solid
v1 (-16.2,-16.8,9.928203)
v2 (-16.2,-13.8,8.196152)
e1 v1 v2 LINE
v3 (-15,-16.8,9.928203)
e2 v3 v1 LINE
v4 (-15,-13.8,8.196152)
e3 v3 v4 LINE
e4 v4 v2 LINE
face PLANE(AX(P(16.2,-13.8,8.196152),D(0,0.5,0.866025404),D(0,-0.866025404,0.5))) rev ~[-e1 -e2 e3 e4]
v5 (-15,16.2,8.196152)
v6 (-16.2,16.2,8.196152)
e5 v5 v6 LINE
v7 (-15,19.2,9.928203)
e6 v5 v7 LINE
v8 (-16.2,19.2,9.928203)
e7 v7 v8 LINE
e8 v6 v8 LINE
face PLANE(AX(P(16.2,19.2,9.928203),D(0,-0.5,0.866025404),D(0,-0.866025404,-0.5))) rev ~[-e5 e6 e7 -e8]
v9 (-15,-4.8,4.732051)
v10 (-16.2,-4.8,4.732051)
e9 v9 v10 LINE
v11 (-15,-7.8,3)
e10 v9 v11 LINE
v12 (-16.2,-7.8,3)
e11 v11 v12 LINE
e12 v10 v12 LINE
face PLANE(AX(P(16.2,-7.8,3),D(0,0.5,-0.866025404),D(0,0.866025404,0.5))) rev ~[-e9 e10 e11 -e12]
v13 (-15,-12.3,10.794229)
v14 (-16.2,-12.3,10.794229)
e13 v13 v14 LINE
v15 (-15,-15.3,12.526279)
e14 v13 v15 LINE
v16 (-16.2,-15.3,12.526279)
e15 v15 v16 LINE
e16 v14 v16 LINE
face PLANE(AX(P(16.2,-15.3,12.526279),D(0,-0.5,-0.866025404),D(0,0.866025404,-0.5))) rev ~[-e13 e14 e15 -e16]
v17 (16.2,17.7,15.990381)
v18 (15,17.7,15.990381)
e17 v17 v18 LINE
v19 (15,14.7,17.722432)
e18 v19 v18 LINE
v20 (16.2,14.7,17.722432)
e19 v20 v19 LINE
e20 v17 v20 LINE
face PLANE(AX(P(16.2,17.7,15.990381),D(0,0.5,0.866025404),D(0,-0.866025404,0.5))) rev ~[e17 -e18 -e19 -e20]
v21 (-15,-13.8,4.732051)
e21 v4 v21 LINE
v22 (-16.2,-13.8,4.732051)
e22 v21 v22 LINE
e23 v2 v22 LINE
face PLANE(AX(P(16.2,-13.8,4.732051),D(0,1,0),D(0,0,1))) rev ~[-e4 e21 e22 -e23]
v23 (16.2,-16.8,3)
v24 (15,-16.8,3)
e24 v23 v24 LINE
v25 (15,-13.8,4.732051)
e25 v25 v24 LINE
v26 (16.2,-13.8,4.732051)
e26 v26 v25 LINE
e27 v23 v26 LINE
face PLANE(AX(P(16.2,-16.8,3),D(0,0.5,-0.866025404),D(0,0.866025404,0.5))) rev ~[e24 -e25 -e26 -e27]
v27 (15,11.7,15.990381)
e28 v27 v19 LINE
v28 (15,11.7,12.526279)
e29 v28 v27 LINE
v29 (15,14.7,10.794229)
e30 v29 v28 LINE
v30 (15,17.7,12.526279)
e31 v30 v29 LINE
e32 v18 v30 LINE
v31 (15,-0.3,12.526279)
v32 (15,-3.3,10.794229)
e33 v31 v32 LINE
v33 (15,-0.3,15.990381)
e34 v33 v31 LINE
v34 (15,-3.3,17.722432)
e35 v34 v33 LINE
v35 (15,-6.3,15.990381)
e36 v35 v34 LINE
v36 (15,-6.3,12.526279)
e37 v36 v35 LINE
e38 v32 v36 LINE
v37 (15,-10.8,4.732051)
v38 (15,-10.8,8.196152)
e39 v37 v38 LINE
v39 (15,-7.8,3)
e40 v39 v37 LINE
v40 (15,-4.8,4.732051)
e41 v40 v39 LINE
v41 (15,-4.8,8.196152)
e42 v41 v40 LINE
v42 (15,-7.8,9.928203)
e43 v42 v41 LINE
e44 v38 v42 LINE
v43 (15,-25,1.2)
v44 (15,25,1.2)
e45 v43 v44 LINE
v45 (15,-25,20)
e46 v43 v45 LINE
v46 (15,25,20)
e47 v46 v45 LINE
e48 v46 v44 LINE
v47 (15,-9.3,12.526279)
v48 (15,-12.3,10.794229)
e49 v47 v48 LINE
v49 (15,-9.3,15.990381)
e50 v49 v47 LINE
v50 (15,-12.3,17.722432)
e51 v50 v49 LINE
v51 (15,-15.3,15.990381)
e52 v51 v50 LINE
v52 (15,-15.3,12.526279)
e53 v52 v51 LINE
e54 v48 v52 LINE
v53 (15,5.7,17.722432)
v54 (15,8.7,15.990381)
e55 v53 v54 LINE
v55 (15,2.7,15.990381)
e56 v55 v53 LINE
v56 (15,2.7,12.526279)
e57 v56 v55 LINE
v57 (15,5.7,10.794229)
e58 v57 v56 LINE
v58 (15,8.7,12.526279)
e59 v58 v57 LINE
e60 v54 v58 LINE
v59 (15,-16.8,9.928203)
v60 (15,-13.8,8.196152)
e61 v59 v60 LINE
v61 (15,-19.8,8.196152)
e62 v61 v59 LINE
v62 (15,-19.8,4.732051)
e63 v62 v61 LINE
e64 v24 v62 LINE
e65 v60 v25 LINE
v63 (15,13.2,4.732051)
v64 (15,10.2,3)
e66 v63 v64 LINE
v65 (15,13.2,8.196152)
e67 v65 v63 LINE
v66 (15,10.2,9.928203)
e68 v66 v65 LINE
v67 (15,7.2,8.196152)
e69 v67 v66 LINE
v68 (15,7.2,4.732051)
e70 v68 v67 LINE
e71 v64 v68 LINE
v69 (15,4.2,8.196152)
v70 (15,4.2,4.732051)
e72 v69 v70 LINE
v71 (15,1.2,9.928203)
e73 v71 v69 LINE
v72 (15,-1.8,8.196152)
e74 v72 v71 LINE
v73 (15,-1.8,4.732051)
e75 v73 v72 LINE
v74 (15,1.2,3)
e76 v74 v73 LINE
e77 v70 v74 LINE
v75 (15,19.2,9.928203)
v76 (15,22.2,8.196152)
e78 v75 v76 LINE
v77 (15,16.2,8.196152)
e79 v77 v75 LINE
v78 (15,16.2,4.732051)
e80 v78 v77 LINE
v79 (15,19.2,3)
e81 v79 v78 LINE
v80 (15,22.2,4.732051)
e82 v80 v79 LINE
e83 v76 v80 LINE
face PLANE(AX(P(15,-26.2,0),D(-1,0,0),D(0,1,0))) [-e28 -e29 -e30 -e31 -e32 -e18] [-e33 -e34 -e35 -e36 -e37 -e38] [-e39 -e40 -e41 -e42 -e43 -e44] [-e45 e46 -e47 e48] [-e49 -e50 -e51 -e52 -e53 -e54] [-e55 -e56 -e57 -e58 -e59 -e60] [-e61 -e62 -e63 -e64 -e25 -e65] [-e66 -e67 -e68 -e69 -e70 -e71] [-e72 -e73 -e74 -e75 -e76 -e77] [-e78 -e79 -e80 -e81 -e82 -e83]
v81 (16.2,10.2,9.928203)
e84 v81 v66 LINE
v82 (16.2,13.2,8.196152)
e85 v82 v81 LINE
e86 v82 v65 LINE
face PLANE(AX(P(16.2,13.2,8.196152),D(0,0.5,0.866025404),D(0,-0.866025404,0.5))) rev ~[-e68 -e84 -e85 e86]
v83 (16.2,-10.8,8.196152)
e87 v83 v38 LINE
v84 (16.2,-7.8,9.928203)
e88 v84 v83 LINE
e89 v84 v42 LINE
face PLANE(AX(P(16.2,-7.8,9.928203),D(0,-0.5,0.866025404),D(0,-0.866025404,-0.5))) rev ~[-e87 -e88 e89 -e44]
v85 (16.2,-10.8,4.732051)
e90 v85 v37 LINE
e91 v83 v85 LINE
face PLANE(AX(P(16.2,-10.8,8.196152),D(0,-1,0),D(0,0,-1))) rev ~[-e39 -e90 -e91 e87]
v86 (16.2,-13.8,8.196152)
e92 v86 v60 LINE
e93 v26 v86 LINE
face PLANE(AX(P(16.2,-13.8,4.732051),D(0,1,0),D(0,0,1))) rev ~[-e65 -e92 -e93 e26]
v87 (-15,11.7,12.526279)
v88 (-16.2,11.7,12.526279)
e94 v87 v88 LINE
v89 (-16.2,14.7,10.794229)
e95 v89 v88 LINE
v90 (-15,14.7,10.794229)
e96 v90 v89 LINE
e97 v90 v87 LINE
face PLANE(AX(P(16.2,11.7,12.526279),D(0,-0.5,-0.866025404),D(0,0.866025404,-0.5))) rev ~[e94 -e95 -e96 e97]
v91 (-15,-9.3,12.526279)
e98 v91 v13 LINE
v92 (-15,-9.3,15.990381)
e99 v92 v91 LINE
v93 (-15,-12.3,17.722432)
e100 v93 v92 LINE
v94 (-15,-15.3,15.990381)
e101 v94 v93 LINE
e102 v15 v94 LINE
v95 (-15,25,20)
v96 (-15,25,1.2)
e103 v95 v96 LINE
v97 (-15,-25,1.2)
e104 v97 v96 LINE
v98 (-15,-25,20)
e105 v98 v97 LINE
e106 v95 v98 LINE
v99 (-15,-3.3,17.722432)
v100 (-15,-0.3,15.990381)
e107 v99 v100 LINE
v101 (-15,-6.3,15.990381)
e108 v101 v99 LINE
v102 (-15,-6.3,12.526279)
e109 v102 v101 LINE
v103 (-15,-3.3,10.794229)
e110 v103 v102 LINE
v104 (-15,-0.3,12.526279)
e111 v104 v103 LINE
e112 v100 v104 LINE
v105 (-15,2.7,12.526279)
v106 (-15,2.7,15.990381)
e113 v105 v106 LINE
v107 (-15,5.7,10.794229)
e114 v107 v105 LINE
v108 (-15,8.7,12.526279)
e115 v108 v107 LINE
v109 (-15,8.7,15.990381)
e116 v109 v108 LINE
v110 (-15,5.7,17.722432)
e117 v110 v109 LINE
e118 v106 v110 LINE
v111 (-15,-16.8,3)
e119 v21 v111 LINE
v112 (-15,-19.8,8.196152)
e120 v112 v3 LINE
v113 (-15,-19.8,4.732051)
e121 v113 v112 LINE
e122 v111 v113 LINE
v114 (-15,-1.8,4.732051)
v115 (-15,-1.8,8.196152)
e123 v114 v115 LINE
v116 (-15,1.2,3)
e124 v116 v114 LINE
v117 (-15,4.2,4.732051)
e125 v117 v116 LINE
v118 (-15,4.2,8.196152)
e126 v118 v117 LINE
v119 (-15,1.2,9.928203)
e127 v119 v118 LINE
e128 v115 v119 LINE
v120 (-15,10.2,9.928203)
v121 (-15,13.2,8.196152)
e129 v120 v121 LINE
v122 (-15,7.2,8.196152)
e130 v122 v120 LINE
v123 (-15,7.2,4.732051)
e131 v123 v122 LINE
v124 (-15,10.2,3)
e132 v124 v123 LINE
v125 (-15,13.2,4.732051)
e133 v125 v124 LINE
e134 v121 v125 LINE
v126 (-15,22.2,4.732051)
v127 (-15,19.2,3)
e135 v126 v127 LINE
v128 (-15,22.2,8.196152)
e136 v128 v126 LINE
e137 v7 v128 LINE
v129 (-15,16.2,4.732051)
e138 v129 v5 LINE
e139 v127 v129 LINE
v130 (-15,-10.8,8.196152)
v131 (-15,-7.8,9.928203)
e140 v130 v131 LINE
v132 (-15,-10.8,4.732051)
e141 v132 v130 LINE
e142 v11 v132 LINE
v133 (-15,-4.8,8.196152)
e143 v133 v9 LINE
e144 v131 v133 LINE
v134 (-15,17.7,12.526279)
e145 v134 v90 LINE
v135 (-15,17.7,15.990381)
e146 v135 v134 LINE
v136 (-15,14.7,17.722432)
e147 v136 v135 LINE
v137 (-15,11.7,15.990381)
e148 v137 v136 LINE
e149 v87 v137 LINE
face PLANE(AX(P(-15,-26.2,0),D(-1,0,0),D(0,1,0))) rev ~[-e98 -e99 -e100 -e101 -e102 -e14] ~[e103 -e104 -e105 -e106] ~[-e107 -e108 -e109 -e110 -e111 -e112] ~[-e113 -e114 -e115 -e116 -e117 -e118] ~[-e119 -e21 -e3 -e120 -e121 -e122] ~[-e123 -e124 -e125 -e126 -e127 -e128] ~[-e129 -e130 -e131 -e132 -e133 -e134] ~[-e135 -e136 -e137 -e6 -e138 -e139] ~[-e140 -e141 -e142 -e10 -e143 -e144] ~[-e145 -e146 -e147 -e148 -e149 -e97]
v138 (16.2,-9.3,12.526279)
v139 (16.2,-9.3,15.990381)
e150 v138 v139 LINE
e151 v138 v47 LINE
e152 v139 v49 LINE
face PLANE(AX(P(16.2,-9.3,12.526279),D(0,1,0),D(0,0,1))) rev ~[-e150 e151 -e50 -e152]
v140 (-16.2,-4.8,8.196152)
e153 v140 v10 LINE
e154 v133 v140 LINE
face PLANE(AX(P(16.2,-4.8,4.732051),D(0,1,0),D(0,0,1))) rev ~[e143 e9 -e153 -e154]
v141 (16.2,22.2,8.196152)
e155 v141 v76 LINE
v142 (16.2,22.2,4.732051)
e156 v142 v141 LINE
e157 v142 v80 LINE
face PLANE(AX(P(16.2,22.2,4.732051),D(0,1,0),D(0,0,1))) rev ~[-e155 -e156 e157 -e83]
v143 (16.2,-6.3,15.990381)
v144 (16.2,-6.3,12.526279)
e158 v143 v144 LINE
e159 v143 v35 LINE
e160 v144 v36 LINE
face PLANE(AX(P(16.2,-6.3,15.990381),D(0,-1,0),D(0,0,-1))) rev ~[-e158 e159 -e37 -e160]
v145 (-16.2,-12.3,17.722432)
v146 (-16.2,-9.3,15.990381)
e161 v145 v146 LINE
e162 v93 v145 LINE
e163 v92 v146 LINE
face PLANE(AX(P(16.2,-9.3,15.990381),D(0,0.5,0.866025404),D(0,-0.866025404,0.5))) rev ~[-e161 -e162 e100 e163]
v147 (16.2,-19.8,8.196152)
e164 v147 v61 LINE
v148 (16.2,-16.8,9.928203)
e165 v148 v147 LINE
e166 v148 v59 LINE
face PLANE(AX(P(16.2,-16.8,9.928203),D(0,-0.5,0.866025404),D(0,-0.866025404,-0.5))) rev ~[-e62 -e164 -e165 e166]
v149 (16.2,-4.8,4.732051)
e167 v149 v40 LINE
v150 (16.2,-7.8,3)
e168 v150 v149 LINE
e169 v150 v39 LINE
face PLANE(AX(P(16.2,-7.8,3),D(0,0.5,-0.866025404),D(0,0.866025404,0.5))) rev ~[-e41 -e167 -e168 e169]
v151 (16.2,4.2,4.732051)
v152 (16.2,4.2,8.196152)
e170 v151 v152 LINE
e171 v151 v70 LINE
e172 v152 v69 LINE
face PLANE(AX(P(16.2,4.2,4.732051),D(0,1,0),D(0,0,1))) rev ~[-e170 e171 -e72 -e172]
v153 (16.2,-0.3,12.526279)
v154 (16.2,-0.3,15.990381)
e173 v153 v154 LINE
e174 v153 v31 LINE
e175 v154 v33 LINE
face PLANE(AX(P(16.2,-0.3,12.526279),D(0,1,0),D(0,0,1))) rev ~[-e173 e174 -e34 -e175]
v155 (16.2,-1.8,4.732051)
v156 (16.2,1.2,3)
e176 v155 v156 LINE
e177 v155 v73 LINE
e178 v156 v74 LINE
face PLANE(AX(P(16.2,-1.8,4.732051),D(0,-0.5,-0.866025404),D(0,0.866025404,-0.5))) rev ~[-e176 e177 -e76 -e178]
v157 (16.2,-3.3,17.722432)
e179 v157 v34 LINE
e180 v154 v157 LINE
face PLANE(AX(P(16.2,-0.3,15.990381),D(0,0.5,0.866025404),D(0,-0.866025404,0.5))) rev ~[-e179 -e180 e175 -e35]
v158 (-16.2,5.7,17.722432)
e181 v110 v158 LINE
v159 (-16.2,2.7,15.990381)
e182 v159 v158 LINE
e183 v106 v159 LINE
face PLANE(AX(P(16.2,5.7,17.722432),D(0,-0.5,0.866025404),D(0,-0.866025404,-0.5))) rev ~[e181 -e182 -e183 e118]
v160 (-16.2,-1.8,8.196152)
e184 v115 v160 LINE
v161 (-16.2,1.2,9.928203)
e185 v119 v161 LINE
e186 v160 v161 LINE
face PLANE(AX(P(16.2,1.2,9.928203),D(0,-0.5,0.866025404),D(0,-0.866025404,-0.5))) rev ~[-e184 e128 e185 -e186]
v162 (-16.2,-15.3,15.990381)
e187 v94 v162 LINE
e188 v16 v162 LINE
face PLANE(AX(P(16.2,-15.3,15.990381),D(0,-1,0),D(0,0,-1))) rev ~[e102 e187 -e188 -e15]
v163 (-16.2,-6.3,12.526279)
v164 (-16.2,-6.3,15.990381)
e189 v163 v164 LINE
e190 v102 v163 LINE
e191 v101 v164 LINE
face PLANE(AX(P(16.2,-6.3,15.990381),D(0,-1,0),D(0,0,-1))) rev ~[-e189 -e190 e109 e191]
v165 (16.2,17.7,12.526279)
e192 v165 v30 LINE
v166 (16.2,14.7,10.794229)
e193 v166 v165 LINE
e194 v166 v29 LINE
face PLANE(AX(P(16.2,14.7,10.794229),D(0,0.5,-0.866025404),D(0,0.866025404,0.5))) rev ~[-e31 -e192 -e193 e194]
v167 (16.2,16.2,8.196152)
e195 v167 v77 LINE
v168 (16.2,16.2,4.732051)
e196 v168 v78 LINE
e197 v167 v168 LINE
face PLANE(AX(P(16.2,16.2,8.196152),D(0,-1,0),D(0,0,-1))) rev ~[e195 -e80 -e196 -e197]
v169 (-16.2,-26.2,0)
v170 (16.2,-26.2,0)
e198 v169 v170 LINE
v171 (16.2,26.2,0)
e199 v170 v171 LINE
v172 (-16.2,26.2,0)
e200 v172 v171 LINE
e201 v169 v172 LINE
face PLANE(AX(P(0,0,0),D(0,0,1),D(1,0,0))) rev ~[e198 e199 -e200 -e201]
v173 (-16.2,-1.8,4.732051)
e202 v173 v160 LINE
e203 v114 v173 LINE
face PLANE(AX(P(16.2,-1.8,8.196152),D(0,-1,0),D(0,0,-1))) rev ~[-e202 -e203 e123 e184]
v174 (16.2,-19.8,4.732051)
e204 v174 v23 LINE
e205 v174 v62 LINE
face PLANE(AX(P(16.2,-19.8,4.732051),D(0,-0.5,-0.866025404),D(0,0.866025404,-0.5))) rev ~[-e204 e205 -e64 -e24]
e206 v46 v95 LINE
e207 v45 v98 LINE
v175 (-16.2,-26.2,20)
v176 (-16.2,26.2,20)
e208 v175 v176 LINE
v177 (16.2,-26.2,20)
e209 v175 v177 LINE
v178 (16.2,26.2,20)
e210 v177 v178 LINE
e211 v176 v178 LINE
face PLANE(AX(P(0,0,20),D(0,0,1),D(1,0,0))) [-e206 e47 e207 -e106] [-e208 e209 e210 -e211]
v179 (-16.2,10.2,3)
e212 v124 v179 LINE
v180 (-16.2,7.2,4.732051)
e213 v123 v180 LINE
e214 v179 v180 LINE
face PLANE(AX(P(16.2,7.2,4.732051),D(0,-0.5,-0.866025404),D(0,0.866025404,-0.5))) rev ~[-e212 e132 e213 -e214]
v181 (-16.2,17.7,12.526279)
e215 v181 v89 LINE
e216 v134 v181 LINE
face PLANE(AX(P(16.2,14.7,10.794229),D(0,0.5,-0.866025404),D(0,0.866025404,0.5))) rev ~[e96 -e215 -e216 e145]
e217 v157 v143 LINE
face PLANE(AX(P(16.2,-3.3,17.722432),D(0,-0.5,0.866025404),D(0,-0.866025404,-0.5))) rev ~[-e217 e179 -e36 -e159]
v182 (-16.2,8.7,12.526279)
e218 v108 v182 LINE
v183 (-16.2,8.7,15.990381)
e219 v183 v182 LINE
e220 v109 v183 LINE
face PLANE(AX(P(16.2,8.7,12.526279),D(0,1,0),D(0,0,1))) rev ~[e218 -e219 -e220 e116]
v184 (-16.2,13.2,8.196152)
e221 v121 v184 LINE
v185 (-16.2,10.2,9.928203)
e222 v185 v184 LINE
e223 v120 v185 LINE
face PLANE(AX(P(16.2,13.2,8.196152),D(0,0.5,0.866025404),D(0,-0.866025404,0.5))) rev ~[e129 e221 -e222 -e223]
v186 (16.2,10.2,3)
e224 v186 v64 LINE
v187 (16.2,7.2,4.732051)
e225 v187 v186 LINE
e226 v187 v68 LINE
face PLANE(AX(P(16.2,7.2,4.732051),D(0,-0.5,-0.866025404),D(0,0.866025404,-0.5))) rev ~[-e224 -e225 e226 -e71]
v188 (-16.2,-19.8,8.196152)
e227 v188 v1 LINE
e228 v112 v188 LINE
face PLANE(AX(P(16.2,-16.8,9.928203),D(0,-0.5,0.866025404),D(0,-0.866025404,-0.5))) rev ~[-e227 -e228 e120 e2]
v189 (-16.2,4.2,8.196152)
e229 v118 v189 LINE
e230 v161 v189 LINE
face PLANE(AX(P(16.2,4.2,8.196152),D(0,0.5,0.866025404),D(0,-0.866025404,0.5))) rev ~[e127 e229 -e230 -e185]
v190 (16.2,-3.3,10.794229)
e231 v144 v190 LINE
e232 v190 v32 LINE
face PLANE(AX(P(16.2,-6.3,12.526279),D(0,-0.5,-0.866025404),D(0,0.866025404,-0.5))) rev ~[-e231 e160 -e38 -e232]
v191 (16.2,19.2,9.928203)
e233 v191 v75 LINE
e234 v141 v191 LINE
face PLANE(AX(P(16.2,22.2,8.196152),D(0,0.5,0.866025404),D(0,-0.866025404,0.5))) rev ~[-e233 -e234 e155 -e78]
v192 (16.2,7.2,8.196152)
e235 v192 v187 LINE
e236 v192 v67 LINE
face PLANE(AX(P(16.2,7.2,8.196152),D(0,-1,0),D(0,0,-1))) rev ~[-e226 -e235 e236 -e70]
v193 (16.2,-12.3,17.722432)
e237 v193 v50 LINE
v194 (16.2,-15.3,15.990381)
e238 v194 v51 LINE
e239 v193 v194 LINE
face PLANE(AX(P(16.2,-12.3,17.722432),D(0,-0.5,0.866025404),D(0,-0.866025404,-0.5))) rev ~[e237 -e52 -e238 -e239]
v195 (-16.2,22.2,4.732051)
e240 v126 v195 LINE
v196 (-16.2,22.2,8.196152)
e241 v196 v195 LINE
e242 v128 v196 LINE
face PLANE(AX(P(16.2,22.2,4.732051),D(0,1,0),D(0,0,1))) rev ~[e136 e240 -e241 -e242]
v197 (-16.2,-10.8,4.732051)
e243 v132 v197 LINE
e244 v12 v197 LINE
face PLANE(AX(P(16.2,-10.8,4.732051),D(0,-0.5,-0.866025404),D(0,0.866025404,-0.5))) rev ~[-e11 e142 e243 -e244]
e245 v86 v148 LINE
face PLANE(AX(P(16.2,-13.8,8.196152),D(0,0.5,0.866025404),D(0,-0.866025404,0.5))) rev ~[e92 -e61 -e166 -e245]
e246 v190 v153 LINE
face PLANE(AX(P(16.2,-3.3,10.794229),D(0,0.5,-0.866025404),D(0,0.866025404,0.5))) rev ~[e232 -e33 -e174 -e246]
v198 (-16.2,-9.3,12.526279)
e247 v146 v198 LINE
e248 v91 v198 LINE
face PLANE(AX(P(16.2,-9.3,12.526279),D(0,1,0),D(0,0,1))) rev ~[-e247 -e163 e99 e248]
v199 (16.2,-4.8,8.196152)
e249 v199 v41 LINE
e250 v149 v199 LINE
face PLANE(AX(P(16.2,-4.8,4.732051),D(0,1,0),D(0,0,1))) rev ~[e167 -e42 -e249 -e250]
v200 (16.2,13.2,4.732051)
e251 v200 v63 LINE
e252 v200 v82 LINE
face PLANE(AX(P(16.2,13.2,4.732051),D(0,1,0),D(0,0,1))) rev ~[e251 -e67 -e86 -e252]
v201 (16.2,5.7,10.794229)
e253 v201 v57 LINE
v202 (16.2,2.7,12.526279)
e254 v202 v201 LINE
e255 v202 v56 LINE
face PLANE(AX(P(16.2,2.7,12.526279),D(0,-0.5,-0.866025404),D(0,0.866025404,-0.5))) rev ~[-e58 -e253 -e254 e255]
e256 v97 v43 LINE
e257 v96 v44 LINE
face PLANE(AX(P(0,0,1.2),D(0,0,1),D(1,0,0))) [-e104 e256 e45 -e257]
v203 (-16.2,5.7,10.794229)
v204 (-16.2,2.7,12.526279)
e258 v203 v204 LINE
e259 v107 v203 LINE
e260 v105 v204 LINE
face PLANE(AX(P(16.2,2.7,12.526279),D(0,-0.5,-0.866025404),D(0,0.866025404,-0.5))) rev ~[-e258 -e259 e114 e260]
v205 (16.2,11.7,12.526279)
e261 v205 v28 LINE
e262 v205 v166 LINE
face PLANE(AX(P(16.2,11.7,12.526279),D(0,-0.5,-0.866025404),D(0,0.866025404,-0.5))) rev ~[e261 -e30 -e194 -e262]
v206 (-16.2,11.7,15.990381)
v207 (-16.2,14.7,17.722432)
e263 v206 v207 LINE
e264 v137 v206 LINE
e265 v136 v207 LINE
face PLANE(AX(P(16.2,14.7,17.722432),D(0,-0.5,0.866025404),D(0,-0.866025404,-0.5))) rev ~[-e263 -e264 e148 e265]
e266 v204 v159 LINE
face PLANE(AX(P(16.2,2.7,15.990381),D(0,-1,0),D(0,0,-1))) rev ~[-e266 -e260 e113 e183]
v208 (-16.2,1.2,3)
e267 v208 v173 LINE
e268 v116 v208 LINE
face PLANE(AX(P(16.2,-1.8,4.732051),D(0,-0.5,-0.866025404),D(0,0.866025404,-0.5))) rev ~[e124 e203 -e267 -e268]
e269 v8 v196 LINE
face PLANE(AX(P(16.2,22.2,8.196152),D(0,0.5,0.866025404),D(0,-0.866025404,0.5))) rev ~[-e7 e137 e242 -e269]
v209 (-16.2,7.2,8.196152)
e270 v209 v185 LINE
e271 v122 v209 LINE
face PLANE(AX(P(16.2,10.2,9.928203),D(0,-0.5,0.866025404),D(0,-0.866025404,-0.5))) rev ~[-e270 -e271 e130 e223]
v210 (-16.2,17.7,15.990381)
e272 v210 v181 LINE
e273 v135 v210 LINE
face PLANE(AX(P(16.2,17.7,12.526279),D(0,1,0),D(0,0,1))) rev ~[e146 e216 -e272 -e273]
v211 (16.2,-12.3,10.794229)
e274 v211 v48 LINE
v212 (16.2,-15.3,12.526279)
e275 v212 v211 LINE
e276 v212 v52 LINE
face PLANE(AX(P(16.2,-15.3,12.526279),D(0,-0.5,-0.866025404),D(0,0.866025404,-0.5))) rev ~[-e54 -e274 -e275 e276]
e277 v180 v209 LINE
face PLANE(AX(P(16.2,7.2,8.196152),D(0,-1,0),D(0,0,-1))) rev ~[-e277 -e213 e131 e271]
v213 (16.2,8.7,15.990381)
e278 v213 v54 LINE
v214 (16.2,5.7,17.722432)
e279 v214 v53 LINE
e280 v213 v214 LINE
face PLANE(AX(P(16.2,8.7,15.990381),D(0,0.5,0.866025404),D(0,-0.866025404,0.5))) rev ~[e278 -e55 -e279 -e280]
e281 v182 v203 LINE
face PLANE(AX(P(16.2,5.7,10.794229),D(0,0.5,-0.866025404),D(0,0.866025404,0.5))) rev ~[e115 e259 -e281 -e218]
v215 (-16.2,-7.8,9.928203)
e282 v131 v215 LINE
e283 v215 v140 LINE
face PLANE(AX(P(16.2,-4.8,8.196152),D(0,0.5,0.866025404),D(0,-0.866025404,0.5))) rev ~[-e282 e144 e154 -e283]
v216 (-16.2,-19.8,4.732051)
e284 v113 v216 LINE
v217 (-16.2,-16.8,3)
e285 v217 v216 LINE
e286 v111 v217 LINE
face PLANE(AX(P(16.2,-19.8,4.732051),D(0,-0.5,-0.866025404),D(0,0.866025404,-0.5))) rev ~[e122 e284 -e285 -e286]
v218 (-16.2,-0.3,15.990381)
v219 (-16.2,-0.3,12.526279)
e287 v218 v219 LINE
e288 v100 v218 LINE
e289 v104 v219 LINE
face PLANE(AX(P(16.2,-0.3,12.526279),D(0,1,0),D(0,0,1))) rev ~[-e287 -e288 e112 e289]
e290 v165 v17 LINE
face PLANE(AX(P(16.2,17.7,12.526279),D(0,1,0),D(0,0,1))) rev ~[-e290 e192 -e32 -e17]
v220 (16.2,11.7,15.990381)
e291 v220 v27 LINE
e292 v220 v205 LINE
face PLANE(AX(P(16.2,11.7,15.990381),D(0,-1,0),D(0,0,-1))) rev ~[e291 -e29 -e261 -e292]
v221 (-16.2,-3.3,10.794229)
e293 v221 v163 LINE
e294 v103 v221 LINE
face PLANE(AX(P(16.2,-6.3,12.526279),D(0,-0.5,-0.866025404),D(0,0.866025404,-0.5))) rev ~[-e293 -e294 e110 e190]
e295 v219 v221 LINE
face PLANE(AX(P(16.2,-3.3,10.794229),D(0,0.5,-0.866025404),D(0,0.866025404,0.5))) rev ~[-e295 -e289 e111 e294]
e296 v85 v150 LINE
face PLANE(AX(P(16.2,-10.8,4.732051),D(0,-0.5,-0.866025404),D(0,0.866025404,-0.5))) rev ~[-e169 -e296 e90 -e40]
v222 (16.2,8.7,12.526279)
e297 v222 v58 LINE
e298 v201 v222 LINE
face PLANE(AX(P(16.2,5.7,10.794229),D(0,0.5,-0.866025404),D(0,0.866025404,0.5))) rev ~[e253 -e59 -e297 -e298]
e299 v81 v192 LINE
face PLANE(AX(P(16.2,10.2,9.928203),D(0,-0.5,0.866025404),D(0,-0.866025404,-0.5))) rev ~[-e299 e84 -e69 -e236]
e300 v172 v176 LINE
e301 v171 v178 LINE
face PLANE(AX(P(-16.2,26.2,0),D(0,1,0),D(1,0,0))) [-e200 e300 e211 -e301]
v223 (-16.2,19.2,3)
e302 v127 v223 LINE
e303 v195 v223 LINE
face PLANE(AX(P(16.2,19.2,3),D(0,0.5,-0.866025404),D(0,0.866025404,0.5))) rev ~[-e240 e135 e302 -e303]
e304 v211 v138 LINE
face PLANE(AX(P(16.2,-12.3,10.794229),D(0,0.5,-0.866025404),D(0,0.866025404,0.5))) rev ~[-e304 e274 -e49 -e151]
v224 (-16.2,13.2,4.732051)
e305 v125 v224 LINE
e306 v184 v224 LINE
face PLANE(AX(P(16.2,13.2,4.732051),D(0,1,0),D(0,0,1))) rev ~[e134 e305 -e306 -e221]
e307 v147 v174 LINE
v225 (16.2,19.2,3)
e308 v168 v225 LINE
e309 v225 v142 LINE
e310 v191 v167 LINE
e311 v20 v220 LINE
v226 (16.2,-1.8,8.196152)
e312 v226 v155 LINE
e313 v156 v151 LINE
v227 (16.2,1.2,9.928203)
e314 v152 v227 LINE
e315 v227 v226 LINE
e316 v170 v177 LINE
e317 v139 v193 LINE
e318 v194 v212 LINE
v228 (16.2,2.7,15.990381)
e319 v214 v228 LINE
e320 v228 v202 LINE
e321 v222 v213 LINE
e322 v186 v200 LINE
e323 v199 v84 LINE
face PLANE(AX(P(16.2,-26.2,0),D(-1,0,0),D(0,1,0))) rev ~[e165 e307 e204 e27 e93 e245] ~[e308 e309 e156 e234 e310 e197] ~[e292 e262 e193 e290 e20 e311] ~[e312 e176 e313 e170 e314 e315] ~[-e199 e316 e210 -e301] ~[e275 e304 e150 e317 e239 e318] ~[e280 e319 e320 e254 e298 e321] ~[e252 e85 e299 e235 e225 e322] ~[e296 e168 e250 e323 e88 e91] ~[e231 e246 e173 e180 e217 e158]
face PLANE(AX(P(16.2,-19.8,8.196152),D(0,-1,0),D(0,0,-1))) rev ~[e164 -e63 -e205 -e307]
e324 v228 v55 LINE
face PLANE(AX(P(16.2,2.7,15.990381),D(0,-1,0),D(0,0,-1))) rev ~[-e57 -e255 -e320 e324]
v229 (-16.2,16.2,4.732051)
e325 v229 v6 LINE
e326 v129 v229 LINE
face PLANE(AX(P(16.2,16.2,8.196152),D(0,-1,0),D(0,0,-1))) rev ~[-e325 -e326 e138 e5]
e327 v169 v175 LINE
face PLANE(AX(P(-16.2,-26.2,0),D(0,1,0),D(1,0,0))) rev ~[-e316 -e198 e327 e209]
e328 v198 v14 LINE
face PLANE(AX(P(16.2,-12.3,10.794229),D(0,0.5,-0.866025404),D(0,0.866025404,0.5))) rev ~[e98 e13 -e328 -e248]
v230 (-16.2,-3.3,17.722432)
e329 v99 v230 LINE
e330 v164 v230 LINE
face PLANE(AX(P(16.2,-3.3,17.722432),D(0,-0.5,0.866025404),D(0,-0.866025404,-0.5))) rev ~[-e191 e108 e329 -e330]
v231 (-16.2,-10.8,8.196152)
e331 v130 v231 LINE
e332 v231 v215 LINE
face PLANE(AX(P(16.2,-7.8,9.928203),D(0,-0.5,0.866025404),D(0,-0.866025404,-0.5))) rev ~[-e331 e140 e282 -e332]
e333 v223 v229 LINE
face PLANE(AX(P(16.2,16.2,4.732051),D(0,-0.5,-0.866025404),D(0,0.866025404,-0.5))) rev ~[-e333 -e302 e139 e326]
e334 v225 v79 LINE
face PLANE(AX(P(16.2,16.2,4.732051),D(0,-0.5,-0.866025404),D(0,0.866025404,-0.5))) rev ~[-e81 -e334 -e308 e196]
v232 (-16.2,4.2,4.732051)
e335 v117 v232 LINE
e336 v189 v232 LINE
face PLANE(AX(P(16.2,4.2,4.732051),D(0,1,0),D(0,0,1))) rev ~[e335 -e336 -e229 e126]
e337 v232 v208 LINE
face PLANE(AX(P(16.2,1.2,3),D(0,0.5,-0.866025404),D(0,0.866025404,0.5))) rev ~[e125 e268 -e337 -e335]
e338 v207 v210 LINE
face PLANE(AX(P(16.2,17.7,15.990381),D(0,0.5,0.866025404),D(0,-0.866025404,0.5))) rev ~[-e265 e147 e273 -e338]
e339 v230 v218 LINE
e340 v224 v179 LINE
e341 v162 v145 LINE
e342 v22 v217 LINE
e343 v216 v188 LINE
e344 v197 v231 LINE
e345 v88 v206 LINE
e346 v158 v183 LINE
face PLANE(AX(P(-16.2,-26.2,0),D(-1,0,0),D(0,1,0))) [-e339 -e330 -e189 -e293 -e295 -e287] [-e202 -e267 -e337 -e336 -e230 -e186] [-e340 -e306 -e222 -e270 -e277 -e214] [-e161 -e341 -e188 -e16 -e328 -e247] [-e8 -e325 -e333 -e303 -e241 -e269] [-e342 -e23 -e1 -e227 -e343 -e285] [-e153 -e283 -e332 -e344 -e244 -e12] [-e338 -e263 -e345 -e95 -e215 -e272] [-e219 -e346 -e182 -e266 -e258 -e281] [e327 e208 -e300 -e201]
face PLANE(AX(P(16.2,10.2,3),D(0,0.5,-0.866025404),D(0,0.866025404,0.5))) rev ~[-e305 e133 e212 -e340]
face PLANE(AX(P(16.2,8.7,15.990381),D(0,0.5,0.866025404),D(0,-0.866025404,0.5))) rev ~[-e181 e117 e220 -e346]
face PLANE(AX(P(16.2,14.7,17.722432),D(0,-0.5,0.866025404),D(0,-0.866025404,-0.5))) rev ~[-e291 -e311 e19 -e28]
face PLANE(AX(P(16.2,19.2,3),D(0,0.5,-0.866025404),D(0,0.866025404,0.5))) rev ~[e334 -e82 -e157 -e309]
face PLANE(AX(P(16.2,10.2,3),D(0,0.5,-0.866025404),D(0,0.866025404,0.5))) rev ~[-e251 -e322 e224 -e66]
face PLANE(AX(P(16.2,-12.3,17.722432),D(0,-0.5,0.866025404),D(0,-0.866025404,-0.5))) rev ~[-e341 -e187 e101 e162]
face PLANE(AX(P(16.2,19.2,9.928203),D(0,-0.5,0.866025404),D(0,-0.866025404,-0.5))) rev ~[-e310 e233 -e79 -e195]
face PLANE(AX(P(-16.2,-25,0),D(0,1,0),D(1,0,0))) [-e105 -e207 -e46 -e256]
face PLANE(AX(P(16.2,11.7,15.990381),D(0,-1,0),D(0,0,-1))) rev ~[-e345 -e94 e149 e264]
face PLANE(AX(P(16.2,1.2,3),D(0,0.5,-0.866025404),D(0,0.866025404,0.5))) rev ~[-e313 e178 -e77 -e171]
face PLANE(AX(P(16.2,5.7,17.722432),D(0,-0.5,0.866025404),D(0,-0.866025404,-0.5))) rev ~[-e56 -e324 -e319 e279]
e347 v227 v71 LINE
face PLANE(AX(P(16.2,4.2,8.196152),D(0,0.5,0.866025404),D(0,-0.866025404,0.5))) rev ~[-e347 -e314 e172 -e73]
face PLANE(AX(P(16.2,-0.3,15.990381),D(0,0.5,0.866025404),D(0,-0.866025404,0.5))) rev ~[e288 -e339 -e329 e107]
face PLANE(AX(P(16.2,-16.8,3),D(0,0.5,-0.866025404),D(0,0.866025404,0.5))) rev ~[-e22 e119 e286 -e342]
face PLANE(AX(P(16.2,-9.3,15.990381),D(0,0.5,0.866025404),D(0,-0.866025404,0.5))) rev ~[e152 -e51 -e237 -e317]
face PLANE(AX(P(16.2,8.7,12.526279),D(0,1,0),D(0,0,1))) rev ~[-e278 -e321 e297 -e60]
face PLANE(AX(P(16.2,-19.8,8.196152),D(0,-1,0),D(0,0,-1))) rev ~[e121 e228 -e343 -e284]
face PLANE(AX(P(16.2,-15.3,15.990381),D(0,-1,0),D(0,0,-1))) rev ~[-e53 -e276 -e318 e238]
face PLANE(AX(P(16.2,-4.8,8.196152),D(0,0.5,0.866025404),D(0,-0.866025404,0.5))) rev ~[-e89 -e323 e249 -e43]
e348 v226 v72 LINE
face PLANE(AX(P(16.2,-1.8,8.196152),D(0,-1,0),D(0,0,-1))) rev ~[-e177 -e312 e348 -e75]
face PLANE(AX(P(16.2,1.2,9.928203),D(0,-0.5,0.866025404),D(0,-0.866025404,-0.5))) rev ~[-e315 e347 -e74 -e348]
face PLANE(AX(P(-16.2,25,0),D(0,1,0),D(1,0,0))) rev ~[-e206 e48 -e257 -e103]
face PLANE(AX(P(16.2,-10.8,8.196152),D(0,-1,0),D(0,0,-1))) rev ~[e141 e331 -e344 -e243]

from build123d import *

# Parameters (mm, degrees)
SKETCH1_W           = 32.4
SKETCH1_H           = 52.4
BOSS_EXTRUDE1_DEPTH = 20
SHELL1_T            = -1.2
CUT_EXTRUDE1_DEPTH  = 47.219043694


with BuildPart() as part:
    # Sketch1 → Boss-Extrude1 (new body)
    with BuildSketch(Plane.XY):
        Rectangle(SKETCH1_W, SKETCH1_H)
    extrude(amount=BOSS_EXTRUDE1_DEPTH)

    # Shell1
    shell1_openings = [part.faces().sort_by_distance(p)[0] for p in [
        (0, 0, 20),
    ]]
    offset(amount=SHELL1_T, openings=shell1_openings, kind=Kind.INTERSECTION)

    # Sketch2 → Cut-Extrude1 (cut, through all)
    with BuildSketch(Plane(origin=(16.2, 0, 0), x_dir=(0, 0, -1), z_dir=(1, 0, 0))):
        Polygon((-3, 19.2), (-4.732050808, 22.2), (-8.196152423, 22.2), (-9.92820323, 19.2), (-8.196152423, 16.2), (-4.732050808, 16.2), align=None)
        Polygon((-3, 10.2), (-4.732050808, 13.2), (-8.196152423, 13.2), (-9.92820323, 10.2), (-8.196152423, 7.2), (-4.732050808, 7.2), align=None)
        Polygon((-10.794228634, 14.7), (-12.526279442, 17.7), (-15.990381057, 17.7), (-17.722431864, 14.7), (-15.990381057, 11.7), (-12.526279442, 11.7), align=None)
        Polygon((-3, 1.2), (-4.732050808, 4.2), (-8.196152423, 4.2), (-9.92820323, 1.2), (-8.196152423, -1.8), (-4.732050808, -1.8), align=None)
        Polygon((-3, -7.8), (-4.732050808, -4.8), (-8.196152423, -4.8), (-9.92820323, -7.8), (-8.196152423, -10.8), (-4.732050808, -10.8), align=None)
        Polygon((-3, -16.8), (-4.732050808, -13.8), (-8.196152423, -13.8), (-9.92820323, -16.8), (-8.196152423, -19.8), (-4.732050808, -19.8), align=None)
        Polygon((-10.794228634, 5.7), (-12.526279442, 8.7), (-15.990381057, 8.7), (-17.722431864, 5.7), (-15.990381057, 2.7), (-12.526279442, 2.7), align=None)
        Polygon((-10.794228634, -3.3), (-12.526279442, -0.3), (-15.990381057, -0.3), (-17.722431864, -3.3), (-15.990381057, -6.3), (-12.526279442, -6.3), align=None)
        Polygon((-10.794228634, -12.3), (-12.526279442, -9.3), (-15.990381057, -9.3), (-17.722431864, -12.3), (-15.990381057, -15.3), (-12.526279442, -15.3), align=None)
    extrude(amount=-CUT_EXTRUDE1_DEPTH, mode=Mode.SUBTRACT)


solid = part.part
